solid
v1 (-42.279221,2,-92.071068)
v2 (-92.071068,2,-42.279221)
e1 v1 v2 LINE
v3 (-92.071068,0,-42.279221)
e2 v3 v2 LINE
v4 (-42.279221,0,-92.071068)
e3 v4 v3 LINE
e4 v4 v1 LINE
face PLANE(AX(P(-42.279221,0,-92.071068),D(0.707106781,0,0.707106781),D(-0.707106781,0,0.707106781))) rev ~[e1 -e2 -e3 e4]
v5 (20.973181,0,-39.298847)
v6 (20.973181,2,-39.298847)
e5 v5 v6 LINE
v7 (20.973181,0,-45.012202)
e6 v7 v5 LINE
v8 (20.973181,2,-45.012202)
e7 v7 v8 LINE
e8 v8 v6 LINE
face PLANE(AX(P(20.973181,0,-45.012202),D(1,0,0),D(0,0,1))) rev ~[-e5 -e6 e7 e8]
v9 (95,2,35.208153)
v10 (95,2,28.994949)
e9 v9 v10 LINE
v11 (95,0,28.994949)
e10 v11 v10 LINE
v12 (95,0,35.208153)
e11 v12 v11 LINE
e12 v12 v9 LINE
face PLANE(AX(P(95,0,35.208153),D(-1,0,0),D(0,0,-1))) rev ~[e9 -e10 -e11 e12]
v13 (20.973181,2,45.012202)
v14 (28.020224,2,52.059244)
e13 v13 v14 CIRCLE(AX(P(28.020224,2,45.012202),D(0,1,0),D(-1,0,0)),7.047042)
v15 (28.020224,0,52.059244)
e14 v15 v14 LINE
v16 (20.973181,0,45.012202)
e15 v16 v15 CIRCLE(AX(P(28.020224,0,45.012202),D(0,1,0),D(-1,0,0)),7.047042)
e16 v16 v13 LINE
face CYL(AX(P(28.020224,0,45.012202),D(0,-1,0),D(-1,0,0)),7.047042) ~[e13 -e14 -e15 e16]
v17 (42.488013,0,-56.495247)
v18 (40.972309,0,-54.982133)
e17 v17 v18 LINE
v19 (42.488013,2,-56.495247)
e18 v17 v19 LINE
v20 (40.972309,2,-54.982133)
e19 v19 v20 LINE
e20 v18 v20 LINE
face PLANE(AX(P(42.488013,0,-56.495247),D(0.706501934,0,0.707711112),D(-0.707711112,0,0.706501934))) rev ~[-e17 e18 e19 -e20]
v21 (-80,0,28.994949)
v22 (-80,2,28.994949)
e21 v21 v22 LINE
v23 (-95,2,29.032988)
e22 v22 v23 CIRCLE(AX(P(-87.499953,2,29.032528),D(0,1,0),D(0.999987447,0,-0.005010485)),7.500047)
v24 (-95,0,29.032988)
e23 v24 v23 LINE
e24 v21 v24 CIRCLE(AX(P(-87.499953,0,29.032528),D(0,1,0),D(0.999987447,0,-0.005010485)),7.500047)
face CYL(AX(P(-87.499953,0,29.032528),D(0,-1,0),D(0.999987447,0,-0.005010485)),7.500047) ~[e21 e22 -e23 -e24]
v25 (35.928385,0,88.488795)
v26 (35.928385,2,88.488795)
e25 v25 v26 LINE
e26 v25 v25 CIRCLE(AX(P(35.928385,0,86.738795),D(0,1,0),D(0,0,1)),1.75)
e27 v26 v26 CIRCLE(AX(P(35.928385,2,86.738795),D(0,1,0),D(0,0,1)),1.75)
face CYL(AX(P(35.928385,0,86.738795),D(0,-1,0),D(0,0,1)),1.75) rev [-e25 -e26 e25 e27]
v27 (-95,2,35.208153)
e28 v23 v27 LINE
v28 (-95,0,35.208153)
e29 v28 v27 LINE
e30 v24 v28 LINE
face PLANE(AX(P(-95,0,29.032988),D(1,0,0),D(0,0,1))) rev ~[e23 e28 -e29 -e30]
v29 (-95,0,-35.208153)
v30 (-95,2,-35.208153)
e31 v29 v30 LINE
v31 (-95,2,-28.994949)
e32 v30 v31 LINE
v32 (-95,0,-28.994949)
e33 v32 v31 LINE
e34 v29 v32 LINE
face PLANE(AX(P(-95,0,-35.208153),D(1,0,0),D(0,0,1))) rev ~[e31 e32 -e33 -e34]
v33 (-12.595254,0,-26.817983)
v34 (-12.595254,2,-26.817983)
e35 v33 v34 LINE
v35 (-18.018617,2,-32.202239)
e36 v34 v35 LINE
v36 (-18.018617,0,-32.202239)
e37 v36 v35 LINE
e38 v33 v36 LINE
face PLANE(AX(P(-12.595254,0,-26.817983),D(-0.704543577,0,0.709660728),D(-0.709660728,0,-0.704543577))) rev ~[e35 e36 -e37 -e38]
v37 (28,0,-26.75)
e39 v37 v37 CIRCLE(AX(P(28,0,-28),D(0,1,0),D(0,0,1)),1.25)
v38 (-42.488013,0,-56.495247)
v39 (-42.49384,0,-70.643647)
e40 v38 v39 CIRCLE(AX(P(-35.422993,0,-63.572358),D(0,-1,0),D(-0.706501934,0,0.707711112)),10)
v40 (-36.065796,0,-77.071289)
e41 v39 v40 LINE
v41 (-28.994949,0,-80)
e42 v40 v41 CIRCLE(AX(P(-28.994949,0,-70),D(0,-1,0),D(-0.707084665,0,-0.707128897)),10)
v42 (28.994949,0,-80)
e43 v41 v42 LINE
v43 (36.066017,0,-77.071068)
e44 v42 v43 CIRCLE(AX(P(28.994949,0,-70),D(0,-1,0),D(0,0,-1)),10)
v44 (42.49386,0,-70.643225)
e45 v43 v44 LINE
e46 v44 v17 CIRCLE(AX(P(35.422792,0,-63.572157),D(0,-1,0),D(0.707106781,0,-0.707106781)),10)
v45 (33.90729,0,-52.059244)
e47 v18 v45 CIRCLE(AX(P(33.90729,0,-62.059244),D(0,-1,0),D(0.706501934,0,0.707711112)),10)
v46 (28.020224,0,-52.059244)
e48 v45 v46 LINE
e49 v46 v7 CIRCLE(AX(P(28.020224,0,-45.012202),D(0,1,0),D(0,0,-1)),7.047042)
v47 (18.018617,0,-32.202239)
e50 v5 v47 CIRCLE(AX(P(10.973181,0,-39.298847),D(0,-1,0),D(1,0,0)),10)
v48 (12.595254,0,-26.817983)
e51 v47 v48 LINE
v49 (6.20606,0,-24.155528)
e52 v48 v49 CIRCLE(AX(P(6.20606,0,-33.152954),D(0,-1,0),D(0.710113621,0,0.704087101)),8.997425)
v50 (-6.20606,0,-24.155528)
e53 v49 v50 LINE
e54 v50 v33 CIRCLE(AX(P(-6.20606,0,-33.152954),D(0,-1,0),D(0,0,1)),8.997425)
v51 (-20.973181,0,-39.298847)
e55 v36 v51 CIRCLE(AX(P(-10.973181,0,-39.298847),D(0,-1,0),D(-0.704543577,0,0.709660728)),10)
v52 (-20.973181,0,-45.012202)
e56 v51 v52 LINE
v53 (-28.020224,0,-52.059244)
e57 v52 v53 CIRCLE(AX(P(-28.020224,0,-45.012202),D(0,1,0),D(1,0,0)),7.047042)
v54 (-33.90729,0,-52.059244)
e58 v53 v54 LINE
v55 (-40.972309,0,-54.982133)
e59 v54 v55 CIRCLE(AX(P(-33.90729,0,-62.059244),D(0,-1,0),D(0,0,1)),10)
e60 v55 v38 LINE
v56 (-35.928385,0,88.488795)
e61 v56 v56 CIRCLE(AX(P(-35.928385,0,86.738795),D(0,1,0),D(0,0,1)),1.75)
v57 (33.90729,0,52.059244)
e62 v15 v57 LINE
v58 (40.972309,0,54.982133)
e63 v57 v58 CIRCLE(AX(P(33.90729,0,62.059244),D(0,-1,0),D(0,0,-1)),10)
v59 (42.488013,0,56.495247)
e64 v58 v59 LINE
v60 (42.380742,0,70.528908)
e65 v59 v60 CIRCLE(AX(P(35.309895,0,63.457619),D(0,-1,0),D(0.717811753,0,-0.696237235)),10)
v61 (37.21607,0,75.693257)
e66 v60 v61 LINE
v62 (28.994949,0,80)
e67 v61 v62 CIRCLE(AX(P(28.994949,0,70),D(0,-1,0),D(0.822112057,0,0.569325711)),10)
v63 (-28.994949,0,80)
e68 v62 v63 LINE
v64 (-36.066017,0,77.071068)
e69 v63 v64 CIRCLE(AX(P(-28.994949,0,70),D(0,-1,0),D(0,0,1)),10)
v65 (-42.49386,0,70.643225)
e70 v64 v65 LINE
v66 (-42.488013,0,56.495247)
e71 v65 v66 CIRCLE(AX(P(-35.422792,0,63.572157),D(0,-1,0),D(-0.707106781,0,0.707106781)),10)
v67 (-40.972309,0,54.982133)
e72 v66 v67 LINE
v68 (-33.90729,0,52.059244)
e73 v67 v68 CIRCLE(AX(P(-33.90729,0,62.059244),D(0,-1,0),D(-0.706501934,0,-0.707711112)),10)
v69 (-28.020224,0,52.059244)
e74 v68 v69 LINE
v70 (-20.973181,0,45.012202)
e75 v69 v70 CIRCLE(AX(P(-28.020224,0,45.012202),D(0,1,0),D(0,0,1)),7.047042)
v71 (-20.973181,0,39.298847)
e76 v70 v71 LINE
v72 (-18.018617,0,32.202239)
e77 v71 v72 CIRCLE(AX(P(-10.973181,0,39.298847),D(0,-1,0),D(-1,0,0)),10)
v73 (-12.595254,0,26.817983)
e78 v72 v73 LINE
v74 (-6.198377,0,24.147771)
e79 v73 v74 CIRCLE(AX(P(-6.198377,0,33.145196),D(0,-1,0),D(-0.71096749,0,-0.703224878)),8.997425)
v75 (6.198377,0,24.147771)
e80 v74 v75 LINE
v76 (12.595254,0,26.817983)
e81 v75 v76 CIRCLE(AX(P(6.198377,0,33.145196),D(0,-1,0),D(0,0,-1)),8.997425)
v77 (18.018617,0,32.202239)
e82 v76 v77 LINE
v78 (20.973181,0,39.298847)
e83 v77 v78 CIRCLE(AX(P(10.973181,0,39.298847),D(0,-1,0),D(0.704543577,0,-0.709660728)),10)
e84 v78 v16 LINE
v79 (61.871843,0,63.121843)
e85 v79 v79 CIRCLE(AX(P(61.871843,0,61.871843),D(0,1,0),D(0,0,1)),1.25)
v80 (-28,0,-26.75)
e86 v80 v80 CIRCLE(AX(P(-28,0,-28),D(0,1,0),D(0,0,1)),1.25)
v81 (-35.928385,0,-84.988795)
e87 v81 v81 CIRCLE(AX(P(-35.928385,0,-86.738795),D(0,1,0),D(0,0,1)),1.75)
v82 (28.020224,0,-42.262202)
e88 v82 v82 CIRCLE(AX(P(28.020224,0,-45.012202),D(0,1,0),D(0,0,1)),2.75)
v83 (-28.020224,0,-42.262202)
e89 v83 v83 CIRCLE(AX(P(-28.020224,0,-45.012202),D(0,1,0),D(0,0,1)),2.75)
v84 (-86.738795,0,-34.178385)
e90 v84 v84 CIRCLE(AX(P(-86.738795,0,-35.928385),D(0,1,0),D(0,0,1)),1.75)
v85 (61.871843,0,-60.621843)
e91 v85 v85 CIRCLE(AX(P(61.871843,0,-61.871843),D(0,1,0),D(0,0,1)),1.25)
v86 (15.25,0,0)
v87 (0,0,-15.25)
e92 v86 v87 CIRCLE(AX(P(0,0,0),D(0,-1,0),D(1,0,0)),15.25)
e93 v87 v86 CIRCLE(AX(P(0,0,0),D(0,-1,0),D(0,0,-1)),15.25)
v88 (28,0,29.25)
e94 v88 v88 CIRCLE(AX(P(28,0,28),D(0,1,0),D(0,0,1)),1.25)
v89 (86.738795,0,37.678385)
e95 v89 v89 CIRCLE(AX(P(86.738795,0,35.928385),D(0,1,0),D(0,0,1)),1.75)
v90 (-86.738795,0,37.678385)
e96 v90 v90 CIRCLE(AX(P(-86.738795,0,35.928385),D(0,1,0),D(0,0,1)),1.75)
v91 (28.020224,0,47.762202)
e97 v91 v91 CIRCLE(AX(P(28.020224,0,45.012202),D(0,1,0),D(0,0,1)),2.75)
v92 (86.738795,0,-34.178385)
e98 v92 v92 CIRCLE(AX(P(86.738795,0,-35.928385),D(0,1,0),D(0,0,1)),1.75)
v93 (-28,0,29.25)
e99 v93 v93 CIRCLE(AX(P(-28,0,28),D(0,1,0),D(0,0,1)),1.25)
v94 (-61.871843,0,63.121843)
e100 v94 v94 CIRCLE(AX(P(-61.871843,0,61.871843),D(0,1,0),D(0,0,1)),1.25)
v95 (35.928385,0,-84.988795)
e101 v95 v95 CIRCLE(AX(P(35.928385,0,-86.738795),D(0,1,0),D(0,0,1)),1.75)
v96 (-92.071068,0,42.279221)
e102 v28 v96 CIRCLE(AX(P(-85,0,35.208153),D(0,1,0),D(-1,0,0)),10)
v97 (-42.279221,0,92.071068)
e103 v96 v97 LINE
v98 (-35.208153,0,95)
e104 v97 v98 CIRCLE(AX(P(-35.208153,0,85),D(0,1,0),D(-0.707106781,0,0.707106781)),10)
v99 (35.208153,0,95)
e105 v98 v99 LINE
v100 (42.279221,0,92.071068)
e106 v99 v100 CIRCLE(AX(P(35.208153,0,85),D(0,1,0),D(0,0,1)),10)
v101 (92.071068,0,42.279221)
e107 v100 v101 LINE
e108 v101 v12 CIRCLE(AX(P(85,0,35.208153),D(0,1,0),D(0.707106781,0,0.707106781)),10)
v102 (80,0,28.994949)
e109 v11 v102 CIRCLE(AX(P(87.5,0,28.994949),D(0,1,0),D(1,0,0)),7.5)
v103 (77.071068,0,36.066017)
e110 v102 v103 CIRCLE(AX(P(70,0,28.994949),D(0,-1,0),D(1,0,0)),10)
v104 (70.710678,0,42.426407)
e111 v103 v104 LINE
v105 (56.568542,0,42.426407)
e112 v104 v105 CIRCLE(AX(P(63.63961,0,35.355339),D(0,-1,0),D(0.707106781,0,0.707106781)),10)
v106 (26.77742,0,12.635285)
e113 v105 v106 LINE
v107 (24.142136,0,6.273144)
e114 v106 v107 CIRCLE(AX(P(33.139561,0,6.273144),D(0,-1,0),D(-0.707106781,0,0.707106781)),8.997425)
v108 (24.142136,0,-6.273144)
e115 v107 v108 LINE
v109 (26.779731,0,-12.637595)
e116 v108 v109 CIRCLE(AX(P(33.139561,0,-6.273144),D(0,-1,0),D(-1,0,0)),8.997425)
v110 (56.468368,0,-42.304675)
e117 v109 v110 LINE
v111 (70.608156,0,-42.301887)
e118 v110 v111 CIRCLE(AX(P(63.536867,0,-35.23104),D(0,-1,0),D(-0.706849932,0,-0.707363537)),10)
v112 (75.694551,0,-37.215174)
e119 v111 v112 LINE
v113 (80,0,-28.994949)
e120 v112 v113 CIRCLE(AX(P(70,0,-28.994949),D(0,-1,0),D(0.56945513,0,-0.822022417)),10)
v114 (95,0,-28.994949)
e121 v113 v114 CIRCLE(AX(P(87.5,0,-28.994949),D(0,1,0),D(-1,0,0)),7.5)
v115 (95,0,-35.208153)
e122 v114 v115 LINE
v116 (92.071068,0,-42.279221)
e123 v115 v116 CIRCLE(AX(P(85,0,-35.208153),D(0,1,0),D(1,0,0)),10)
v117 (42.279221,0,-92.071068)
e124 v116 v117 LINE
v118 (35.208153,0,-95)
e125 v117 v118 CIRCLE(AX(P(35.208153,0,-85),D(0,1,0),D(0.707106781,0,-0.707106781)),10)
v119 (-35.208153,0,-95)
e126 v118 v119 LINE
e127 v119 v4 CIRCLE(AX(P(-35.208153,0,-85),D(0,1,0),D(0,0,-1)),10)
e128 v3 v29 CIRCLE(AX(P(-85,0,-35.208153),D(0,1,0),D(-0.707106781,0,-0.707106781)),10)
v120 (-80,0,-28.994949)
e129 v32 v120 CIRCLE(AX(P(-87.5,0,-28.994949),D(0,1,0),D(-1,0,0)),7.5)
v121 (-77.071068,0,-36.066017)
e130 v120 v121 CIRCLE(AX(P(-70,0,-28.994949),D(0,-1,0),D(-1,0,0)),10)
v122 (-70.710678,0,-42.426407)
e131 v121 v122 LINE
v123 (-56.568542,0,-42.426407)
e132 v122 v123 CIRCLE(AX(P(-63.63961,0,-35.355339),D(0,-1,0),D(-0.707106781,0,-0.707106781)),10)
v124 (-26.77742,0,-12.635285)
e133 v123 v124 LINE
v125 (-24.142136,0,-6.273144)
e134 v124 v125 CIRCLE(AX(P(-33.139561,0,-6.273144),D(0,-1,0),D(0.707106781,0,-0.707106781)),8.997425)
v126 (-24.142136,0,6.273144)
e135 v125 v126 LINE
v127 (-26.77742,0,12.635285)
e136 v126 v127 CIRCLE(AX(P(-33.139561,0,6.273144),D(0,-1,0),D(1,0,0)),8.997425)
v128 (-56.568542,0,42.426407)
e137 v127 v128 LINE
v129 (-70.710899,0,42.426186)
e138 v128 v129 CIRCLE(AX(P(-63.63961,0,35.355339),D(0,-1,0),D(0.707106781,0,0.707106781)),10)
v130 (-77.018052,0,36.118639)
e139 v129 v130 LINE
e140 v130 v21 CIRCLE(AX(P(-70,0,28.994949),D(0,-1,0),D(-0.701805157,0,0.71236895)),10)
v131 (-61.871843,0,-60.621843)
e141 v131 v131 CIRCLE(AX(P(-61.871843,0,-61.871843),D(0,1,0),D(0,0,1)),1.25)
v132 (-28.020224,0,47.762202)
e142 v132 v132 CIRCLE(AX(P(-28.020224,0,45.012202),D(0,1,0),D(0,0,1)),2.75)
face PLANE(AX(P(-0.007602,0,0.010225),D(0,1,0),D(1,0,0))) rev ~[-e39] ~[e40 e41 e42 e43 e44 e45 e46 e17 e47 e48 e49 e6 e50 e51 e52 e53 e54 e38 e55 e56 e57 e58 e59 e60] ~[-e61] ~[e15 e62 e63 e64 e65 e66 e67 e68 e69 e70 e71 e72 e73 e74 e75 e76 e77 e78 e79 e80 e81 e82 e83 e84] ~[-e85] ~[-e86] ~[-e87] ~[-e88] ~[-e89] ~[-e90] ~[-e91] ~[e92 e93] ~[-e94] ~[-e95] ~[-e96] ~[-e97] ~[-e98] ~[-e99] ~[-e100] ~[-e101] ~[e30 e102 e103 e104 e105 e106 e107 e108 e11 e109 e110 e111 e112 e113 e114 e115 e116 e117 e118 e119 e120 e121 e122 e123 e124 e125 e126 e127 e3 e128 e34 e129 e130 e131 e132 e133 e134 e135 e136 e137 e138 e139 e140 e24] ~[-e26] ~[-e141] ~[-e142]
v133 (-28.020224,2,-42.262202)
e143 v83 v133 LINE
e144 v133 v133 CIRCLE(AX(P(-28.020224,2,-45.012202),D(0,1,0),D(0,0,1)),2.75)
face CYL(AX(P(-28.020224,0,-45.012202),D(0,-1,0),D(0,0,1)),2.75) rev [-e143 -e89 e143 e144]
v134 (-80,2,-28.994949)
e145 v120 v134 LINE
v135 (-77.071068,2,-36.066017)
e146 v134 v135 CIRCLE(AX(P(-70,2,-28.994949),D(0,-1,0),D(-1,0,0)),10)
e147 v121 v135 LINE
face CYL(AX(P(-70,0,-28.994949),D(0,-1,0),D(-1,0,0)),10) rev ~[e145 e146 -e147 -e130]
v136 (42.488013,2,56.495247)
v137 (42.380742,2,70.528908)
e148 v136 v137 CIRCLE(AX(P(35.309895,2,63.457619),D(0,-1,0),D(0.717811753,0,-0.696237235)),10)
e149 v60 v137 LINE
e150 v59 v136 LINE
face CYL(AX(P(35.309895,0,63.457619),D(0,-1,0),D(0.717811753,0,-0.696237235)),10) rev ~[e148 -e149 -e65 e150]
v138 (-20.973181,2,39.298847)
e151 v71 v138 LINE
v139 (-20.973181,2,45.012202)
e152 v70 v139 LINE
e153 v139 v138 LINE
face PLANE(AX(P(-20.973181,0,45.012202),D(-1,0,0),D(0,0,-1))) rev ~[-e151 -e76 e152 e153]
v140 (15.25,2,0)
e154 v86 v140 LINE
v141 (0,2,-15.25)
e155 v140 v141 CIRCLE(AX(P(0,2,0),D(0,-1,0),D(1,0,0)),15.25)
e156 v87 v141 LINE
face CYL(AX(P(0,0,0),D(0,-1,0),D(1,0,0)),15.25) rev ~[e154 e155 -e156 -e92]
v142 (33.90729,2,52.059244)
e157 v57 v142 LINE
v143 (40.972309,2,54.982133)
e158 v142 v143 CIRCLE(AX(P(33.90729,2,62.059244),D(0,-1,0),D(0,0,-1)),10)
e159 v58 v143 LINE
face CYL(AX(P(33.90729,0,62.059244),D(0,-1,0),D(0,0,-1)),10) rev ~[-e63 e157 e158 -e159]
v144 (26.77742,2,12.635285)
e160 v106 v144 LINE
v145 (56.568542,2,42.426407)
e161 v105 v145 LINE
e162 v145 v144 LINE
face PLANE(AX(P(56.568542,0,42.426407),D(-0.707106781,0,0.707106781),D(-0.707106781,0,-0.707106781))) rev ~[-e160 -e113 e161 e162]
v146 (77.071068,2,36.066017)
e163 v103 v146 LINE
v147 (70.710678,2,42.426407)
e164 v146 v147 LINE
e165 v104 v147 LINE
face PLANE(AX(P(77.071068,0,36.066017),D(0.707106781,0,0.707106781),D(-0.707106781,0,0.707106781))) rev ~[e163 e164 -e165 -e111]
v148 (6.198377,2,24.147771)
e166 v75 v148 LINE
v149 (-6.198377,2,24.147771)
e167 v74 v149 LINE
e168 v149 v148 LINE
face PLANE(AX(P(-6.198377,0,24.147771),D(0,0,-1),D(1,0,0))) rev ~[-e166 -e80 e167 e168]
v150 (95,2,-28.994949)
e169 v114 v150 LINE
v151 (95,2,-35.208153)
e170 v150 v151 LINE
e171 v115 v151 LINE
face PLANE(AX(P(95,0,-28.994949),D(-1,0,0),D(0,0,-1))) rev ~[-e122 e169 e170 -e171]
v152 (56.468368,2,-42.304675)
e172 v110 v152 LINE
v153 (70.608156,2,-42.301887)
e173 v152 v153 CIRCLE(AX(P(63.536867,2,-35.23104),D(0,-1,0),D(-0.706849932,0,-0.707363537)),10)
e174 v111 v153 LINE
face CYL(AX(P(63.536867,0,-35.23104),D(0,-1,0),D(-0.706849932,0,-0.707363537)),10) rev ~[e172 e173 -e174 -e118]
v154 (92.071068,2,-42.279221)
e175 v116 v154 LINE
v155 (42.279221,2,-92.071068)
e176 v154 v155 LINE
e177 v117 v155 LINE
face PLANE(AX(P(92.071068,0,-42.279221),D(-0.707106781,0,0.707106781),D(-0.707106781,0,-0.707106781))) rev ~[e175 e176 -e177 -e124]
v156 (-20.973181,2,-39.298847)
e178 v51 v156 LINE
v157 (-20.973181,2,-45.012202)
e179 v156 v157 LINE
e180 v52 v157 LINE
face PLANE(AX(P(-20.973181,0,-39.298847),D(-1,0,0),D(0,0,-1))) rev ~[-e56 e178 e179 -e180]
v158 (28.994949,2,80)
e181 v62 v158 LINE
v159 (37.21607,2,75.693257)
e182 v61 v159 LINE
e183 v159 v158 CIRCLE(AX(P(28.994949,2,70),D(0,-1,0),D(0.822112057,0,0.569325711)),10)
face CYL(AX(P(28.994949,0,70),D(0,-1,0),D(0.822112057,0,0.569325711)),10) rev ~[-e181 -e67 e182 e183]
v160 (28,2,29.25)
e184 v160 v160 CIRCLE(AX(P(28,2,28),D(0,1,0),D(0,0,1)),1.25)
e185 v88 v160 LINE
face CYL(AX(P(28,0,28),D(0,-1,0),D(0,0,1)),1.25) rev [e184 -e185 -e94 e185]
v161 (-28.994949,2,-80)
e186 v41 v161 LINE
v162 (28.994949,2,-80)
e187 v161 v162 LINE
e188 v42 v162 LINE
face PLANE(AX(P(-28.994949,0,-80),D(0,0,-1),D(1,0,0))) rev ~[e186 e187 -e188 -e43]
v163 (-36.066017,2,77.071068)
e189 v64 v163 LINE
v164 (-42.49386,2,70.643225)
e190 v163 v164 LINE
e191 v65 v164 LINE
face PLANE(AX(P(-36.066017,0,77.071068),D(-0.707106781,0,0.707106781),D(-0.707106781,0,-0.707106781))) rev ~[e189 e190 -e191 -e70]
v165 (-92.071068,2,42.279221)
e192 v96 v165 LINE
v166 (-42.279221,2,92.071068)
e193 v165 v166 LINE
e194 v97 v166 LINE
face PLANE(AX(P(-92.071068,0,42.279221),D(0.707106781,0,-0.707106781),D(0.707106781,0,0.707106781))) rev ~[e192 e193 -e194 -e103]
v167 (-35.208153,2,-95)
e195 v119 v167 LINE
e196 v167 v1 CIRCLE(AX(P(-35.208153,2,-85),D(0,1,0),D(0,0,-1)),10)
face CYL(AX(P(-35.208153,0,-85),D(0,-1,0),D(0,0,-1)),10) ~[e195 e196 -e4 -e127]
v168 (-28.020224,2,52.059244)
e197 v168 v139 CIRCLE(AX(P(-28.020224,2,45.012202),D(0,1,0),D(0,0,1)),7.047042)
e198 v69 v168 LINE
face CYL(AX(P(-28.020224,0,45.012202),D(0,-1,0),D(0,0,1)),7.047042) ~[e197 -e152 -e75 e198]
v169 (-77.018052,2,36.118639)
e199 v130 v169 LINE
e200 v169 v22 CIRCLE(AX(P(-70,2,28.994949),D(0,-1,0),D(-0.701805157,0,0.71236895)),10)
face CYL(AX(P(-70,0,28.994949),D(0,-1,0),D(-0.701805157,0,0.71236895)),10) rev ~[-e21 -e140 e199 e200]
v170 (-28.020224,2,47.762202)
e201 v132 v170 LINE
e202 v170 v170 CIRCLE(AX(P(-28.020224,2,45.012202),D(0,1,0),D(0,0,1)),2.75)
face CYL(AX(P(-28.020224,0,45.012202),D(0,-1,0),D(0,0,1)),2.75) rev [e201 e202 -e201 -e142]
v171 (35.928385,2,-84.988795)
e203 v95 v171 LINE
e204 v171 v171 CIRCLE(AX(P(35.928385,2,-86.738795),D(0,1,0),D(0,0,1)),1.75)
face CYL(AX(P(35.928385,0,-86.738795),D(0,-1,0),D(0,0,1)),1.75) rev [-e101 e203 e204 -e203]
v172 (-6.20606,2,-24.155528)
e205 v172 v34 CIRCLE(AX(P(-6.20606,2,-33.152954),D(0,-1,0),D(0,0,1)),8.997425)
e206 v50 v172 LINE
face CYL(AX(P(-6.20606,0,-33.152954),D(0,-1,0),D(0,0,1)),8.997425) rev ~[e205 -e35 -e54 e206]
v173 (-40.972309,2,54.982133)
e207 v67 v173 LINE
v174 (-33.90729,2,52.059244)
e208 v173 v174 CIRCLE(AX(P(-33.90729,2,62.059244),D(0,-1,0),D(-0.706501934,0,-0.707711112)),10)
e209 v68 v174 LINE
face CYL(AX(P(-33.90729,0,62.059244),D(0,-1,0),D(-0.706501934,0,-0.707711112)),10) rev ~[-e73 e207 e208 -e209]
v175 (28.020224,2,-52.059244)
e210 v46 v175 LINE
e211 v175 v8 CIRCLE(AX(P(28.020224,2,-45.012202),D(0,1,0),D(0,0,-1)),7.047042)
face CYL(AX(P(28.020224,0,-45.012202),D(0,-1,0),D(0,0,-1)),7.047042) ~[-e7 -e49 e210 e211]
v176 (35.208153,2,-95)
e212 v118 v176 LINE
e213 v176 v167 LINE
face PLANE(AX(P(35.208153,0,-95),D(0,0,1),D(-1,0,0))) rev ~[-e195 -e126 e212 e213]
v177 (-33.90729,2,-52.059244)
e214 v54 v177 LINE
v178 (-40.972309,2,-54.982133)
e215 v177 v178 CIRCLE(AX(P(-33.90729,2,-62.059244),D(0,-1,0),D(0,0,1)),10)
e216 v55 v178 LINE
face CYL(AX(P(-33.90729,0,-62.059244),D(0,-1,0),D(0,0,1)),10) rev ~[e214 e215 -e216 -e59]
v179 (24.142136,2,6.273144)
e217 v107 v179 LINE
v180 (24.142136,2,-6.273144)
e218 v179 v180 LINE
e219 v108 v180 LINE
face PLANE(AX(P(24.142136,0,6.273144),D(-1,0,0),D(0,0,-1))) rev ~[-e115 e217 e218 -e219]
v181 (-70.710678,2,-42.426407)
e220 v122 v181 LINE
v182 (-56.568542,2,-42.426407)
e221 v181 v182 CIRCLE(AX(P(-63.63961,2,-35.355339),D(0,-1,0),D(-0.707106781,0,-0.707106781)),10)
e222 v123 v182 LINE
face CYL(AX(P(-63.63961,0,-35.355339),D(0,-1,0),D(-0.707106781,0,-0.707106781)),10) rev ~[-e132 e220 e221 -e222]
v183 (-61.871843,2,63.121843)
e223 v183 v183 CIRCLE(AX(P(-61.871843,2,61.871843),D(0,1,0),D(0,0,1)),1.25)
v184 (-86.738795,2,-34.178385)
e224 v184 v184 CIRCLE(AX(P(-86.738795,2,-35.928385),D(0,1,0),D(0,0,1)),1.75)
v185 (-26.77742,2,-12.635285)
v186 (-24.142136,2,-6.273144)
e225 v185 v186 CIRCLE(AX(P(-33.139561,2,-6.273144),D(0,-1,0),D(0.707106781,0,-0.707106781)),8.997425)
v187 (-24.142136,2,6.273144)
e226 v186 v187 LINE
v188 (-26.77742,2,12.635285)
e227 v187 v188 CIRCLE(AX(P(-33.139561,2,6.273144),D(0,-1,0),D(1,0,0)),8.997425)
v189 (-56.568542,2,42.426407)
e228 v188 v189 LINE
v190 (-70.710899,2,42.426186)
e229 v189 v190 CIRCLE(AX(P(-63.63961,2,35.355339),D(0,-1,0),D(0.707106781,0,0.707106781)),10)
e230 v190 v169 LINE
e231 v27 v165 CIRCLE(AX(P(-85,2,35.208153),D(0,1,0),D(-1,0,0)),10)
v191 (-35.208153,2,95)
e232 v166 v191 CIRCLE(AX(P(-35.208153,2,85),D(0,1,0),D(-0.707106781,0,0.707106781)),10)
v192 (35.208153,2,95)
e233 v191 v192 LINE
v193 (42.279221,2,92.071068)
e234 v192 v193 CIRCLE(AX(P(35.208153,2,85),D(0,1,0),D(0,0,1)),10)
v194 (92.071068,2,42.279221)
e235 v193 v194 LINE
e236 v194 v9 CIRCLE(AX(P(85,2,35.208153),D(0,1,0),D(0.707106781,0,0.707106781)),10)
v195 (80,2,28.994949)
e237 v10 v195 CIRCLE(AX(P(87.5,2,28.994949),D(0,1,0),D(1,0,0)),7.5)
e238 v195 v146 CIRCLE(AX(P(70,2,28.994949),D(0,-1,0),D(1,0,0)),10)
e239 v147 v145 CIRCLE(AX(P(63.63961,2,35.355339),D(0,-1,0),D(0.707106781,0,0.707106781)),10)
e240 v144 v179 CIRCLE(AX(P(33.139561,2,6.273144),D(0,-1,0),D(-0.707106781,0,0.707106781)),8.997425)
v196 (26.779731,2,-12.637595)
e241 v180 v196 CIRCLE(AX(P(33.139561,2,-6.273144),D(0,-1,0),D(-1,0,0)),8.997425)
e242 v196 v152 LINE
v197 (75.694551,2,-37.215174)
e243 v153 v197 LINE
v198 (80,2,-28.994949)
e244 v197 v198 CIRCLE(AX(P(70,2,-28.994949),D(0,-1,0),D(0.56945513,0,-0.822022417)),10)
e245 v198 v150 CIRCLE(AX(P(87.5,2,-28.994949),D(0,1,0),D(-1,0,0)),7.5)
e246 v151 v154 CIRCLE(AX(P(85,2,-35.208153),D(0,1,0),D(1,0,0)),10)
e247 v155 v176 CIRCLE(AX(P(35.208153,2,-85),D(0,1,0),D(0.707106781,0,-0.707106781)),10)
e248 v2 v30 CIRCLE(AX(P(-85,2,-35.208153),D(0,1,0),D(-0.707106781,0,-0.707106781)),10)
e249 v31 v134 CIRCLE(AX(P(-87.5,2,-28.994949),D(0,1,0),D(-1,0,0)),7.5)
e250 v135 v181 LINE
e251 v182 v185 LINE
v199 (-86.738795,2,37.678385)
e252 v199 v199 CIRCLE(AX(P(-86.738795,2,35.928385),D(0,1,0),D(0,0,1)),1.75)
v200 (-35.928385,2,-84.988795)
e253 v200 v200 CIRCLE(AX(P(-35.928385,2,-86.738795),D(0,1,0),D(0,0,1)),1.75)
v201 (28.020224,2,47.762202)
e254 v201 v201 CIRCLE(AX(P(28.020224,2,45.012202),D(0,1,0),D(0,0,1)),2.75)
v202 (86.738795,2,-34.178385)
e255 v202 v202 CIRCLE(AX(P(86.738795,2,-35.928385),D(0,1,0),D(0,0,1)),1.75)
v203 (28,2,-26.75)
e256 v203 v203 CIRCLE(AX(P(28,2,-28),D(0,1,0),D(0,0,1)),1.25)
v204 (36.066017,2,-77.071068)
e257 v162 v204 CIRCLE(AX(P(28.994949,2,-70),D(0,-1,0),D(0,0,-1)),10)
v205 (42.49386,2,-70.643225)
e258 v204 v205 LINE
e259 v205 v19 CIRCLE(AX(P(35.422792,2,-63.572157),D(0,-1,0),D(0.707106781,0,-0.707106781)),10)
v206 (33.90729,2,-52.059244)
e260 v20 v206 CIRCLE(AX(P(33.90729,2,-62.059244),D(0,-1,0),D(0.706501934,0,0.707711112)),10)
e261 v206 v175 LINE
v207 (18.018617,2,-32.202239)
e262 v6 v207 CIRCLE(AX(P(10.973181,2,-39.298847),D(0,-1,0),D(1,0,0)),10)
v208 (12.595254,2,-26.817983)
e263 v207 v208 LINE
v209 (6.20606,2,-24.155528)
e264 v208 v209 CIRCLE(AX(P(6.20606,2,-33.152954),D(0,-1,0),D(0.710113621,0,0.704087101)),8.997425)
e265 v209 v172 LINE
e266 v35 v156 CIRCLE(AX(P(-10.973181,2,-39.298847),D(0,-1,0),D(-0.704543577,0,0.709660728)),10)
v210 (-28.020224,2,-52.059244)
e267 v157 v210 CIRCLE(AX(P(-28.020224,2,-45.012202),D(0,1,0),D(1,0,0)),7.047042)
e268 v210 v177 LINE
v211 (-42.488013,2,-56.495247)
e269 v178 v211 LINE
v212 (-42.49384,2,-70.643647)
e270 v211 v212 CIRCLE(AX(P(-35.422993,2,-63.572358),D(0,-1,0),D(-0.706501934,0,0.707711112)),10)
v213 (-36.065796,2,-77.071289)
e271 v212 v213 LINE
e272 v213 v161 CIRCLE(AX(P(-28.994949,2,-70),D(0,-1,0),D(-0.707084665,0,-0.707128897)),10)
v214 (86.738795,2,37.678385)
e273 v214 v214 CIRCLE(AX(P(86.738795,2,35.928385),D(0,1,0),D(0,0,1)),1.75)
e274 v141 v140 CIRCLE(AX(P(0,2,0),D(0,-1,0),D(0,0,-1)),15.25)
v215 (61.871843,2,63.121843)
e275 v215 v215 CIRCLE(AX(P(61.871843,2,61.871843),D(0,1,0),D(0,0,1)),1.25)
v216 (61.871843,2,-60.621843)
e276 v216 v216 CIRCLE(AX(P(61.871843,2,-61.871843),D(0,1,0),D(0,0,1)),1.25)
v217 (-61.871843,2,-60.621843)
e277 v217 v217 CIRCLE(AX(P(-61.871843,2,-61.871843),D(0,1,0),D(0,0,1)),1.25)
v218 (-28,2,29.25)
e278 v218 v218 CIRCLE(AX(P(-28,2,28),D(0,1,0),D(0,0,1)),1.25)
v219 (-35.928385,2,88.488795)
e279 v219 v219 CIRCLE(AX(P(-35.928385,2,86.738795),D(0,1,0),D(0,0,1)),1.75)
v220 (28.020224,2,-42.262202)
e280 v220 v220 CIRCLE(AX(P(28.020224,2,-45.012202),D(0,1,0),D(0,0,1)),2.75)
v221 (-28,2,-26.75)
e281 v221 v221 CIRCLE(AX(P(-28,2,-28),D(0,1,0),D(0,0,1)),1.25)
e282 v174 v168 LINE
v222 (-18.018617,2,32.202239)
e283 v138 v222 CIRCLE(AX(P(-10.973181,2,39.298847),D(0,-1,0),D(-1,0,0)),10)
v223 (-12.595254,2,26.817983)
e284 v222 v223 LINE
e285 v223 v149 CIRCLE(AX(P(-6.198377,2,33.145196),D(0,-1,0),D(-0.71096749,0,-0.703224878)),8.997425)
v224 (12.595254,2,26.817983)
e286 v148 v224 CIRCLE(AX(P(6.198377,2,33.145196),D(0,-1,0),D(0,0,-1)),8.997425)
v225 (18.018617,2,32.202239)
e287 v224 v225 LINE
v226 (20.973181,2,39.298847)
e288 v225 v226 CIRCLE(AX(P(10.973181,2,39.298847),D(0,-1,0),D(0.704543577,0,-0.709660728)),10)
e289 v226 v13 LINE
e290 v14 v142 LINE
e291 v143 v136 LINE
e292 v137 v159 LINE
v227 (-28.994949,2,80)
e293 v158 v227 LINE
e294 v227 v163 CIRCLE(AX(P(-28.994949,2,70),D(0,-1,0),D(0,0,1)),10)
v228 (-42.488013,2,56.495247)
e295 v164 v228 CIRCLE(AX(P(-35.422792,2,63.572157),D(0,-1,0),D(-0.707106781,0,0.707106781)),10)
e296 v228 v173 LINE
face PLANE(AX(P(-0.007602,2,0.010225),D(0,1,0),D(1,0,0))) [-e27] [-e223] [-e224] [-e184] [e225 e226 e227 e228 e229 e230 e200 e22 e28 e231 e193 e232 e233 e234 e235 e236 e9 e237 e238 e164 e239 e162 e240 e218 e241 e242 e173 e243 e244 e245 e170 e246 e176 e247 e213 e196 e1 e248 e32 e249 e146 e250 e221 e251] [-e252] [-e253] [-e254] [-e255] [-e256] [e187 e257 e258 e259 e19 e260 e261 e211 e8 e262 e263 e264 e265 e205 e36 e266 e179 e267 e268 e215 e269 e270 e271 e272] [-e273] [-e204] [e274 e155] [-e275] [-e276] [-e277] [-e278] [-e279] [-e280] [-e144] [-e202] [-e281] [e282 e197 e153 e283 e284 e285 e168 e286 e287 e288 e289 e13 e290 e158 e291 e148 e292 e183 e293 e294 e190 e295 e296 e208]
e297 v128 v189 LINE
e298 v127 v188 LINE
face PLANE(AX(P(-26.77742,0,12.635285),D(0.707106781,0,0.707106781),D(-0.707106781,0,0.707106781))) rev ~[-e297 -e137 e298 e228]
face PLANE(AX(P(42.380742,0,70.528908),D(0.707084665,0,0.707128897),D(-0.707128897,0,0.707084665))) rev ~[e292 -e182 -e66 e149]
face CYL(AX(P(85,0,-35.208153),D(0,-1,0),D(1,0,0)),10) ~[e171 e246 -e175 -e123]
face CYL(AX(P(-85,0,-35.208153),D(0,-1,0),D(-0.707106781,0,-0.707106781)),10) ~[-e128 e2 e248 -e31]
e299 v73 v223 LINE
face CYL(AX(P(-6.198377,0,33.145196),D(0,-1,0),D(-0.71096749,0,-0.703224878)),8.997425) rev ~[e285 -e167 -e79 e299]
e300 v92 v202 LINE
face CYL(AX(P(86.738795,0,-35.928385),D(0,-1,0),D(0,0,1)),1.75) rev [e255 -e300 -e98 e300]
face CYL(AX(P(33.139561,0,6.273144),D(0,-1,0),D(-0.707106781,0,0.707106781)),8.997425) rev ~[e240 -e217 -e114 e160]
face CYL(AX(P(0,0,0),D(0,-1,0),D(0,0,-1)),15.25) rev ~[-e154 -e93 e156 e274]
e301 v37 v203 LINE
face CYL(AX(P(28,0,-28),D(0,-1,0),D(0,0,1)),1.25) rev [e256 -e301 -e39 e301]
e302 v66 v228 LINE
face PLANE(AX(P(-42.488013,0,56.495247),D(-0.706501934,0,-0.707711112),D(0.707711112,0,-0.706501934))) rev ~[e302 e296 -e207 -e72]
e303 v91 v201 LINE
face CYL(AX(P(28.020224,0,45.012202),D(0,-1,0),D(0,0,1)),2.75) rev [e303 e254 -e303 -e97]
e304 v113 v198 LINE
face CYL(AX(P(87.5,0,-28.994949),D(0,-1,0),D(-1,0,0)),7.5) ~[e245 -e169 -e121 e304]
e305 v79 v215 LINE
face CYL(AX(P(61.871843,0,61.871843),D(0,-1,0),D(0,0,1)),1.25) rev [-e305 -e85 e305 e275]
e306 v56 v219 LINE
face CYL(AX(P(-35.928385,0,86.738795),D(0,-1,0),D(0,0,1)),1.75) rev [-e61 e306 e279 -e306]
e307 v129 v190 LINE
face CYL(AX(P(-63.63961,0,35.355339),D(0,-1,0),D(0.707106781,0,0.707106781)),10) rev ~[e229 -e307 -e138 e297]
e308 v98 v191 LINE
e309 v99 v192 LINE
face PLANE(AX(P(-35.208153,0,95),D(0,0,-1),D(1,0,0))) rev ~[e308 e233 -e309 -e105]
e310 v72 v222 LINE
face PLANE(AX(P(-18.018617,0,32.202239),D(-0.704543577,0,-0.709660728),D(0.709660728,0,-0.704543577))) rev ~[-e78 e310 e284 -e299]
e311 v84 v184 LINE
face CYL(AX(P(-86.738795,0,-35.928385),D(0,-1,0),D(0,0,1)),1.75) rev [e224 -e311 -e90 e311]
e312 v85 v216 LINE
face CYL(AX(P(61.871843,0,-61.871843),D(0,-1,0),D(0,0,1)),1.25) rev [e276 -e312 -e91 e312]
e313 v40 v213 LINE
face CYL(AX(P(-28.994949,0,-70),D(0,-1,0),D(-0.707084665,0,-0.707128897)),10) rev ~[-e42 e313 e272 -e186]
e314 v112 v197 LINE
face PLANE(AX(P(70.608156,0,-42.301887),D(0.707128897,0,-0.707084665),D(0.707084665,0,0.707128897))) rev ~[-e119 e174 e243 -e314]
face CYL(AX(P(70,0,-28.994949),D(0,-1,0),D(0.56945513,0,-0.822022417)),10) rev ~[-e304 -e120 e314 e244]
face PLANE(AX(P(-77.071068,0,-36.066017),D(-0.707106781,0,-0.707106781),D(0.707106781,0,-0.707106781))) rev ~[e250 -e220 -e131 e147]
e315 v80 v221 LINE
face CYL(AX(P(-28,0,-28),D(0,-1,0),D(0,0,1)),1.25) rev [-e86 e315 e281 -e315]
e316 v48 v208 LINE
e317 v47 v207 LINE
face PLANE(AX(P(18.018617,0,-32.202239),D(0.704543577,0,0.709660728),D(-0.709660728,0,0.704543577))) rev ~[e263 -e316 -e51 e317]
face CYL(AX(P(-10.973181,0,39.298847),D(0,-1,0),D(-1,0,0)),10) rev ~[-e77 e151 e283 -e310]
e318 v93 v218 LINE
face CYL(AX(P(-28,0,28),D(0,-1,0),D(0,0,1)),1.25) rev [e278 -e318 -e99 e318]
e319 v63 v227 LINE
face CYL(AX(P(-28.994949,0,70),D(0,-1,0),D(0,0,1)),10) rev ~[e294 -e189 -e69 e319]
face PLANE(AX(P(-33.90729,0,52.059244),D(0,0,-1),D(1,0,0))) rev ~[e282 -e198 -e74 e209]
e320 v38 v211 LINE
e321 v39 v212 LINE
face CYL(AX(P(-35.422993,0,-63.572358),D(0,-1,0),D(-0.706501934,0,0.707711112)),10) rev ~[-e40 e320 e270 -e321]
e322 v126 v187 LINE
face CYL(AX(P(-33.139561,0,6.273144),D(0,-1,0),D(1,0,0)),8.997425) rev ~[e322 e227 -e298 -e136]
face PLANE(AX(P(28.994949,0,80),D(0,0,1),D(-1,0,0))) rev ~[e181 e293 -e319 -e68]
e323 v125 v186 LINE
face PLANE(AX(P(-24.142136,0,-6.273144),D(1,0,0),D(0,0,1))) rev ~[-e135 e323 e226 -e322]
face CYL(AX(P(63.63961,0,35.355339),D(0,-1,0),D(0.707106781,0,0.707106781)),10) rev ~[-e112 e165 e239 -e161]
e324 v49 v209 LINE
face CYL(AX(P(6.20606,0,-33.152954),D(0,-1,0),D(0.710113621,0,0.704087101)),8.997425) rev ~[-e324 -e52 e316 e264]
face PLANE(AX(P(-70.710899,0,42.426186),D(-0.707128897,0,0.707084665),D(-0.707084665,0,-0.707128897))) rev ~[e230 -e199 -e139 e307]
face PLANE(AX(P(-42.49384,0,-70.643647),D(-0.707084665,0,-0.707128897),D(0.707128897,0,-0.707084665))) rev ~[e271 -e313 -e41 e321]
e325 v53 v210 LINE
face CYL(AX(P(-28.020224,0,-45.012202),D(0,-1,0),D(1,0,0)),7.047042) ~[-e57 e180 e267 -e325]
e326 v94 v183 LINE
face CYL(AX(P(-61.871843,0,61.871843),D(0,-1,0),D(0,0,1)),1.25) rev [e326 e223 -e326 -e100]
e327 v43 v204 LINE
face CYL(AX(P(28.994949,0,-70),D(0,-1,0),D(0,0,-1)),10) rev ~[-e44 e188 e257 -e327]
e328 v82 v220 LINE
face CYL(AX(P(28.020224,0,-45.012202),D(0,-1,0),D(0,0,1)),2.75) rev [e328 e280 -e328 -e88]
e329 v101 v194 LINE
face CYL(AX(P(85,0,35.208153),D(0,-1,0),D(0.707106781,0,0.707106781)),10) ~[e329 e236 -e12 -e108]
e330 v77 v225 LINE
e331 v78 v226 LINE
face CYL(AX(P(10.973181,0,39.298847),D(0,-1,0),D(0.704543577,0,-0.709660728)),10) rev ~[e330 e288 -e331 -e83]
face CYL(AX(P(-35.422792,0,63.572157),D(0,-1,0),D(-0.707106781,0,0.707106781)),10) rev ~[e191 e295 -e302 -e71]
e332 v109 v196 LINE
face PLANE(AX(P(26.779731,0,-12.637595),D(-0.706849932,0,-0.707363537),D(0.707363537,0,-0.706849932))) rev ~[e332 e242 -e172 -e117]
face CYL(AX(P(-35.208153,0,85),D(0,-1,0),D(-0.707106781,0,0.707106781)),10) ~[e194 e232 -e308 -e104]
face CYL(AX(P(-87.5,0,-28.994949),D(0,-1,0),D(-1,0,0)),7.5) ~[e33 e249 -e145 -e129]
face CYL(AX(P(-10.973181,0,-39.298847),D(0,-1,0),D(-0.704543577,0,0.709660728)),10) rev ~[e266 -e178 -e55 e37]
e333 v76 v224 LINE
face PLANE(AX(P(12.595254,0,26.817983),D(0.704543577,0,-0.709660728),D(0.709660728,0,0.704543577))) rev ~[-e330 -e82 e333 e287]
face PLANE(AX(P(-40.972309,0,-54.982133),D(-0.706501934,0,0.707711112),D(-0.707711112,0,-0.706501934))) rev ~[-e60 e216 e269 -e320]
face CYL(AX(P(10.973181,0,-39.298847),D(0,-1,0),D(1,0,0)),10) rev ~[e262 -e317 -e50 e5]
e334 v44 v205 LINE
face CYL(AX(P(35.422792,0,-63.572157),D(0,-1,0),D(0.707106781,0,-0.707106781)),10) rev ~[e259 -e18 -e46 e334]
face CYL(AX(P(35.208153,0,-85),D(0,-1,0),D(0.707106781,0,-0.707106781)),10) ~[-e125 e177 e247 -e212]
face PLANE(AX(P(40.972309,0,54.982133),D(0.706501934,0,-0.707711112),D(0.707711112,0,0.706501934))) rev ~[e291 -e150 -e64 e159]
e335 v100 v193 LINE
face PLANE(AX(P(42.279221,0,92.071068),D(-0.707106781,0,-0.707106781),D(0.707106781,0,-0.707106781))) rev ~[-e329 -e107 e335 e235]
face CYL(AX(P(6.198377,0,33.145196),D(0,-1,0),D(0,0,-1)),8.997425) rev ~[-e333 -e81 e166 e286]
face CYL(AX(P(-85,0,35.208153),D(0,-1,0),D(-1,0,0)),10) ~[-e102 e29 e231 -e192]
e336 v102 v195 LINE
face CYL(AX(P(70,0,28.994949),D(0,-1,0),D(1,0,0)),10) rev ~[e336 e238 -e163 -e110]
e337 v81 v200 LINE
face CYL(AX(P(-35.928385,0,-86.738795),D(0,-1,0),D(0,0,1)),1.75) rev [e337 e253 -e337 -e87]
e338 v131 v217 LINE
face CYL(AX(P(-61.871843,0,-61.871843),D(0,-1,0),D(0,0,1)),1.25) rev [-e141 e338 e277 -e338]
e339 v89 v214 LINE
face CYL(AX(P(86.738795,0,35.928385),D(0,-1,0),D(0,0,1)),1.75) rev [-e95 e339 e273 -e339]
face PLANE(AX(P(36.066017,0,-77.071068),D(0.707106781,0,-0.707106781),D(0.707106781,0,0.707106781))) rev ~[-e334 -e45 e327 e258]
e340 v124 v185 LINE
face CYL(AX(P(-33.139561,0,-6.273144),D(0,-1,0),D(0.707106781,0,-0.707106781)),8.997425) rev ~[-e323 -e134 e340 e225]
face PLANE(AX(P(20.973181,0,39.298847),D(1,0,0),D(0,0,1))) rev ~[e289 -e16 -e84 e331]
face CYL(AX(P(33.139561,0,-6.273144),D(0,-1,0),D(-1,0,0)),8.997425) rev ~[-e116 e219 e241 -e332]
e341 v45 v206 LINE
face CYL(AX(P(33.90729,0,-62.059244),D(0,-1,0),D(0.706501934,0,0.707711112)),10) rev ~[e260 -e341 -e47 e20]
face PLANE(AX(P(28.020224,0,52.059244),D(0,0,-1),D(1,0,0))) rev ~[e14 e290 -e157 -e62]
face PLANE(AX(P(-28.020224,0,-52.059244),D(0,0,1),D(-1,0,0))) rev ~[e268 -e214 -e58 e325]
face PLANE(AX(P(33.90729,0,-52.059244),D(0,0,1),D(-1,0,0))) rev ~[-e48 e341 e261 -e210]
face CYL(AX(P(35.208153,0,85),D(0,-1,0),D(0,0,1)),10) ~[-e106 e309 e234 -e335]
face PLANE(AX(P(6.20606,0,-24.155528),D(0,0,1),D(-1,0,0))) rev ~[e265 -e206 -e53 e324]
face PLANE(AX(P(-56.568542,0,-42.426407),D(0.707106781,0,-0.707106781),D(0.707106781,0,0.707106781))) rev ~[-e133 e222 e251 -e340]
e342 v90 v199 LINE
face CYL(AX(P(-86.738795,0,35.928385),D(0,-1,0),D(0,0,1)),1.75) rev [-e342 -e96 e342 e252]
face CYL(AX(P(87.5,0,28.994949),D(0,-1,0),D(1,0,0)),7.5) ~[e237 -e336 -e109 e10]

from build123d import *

# Parameters (mm, degrees)
SKETCH2_R           = 1.25
SKETCH2_R_2         = 1.75
SKETCH2_R_3         = 2.75
BOSS_EXTRUDE1_DEPTH = 2


with BuildPart() as part:
    # Sketch2 → Boss-Extrude1 (new body)
    with BuildSketch(Plane(origin=(0, 0, 0), x_dir=(1, 0, 0), z_dir=(0, 1, 0))):
        with BuildLine():
            Line((24.142135624, -6.273144482), (24.142135624, 0))
            Line((24.142135624, 0), (24.142135624, 6.273144482))
            ThreePointArc((24.142135624, 6.273144482), (24.827649201, 9.717819404), (26.779731412, 12.637594949))
            Line((26.779731412, 12.637594949), (56.468368159, 42.304675289))
            ThreePointArc((56.468368159, 42.304675289), (63.53883973, 45.231039727), (70.608156448, 42.301886572))
            Line((70.608156448, 42.301886572), (75.694551302, 37.21517354))
            ThreePointArc((75.694551302, 37.21517354), (78.858485001, 33.634695425), (80, 28.994949366))
            ThreePointArc((80, 28.994949366), (87.5, 21.494949366), (95, 28.994949366))
            Line((95, 28.994949366), (95, 35.208152802))
            ThreePointArc((95, 35.208152802), (94.238795325, 39.034987125), (92.071067812, 42.279220614))
            Line((92.071067812, 42.279220614), (42.279220614, 92.071067812))
            ThreePointArc((42.279220614, 92.071067812), (39.034987125, 94.238795325), (35.208152802, 95))
            Line((35.208152802, 95), (-35.208152802, 95))
            ThreePointArc((-35.208152802, 95), (-39.034987125, 94.238795325), (-42.279220614, 92.071067812))
            Line((-42.279220614, 92.071067812), (-92.071067812, 42.279220614))
            ThreePointArc((-92.071067812, 42.279220614), (-94.238795325, 39.034987125), (-95, 35.208152802))
            Line((-95, 35.208152802), (-95, 28.994949366))
            ThreePointArc((-95, 28.994949366), (-87.5, 21.494949366), (-80, 28.994949366))
            ThreePointArc((-80, 28.994949366), (-79.238795325, 32.82178369), (-77.071067812, 36.066017178))
            Line((-77.071067812, 36.066017178), (-70.710678119, 42.426406871))
            ThreePointArc((-70.710678119, 42.426406871), (-63.639610307, 45.355339059), (-56.568542495, 42.426406871))
            Line((-56.568542495, 42.426406871), (-26.777420433, 12.63528481))
            ThreePointArc((-26.777420433, 12.63528481), (-24.827023831, 9.716310016), (-24.142135624, 6.273144482))
            Line((-24.142135624, 6.273144482), (-24.142135624, -6.273144482))
            ThreePointArc((-24.142135624, -6.273144482), (-24.827023831, -9.716310016), (-26.777420433, -12.63528481))
            Line((-26.777420433, -12.63528481), (-56.568542495, -42.426406871))
            ThreePointArc((-56.568542495, -42.426406871), (-63.639766689, -45.355339058), (-70.710899273, -42.42618571))
            Line((-70.710899273, -42.42618571), (-77.018051571, -36.11863887))
            ThreePointArc((-77.018051571, -36.11863887), (-79.224438078, -32.856262892), (-80, -28.994949366))
            ThreePointArc((-80, -28.994949366), (-87.518972201, -21.532505276), (-95, -29.032987782))
            Line((-95, -29.032987782), (-95, -35.208152802))
            ThreePointArc((-95, -35.208152802), (-94.238795325, -39.034987125), (-92.071067812, -42.279220614))
            Line((-92.071067812, -42.279220614), (-42.279220614, -92.071067812))
            ThreePointArc((-42.279220614, -92.071067812), (-39.034987125, -94.238795325), (-35.208152802, -95))
            Line((-35.208152802, -95), (35.208152802, -95))
            ThreePointArc((35.208152802, -95), (39.034987125, -94.238795325), (42.279220614, -92.071067812))
            Line((42.279220614, -92.071067812), (92.071067812, -42.279220614))
            ThreePointArc((92.071067812, -42.279220614), (94.238795325, -39.034987125), (95, -35.208152802))
            Line((95, -35.208152802), (95, -28.994949366))
            ThreePointArc((95, -28.994949366), (87.5, -21.494949366), (80, -28.994949366))
            ThreePointArc((80, -28.994949366), (79.238795325, -32.82178369), (77.071067812, -36.066017178))
            Line((77.071067812, -36.066017178), (70.710678119, -42.426406871))
            ThreePointArc((70.710678119, -42.426406871), (63.639610307, -45.355339059), (56.568542495, -42.426406871))
            Line((56.568542495, -42.426406871), (26.777420433, -12.63528481))
            ThreePointArc((26.777420433, -12.63528481), (24.827023831, -9.716310016), (24.142135624, -6.273144482))
        make_face()
        with Locations(Location((-61.871843354, -61.871843354, 0), (0, 0, 270))):
            Circle(SKETCH2_R, mode=Mode.SUBTRACT)
        with Locations(Location((-35.928385408, -86.738795325, 0), (0, 0, 270))):
            Circle(SKETCH2_R_2, mode=Mode.SUBTRACT)
        with BuildLine():
            Line((-36.066017178, -77.071067812), (-42.49385989, -70.643225099))
            ThreePointArc((-42.49385989, -70.643225099), (-45.422791224, -63.568024355), (-42.488012626, -56.495247042))
            Line((-42.488012626, -56.495247042), (-40.972308908, -54.982133019))
            ThreePointArc((-40.972308908, -54.982133019), (-37.730173876, -52.818813648), (-33.90728957, -52.059244135))
            Line((-33.90728957, -52.059244135), (-28.020223739, -52.059244135))
            ThreePointArc((-28.020223739, -52.059244135), (-23.037212382, -49.995213249), (-20.973181496, -45.012201892))
            Line((-20.973181496, -45.012201892), (-20.973181496, -39.298846649))
            ThreePointArc((-20.973181496, -39.298846649), (-20.205038234, -35.45530386), (-18.018617262, -32.20223937))
            Line((-18.018617262, -32.20223937), (-12.595254252, -26.81798261))
            ThreePointArc((-12.595254252, -26.81798261), (-9.664285168, -24.842115466), (-6.198377489, -24.147770665))
            Line((-6.198377489, -24.147770665), (6.198377489, -24.147770665))
            ThreePointArc((6.198377489, -24.147770665), (9.664285168, -24.842115466), (12.595254252, -26.81798261))
            Line((12.595254252, -26.81798261), (18.018617262, -32.20223937))
            ThreePointArc((18.018617262, -32.20223937), (20.205038234, -35.45530386), (20.973181496, -39.298846649))
            Line((20.973181496, -39.298846649), (20.973181496, -45.012201892))
            ThreePointArc((20.973181496, -45.012201892), (23.037212382, -49.995213249), (28.020223739, -52.059244135))
            Line((28.020223739, -52.059244135), (33.90728957, -52.059244135))
            ThreePointArc((33.90728957, -52.059244135), (37.730173876, -52.818813648), (40.972308908, -54.982133019))
            Line((40.972308908, -54.982133019), (42.488012626, -56.495247042))
            ThreePointArc((42.488012626, -56.495247042), (45.309602969, -63.534055428), (42.380741747, -70.528908358))
            Line((42.380741747, -70.528908358), (37.216069936, -75.693257115))
            ThreePointArc((37.216069936, -75.693257115), (33.63539271, -78.858119754), (28.994949366, -80))
            Line((28.994949366, -80), (-28.994949366, -80))
            ThreePointArc((-28.994949366, -80), (-32.82178369, -79.238795325), (-36.066017178, -77.071067812))
        make_face(mode=Mode.SUBTRACT)
        with Locations(Location((-28.020223739, -45.012201892, 0), (0, 0, 270))):
            Circle(SKETCH2_R_3, mode=Mode.SUBTRACT)
        with Locations(Location((-86.738795325, -35.928385408, 0), (0, 0, 270))):
            Circle(SKETCH2_R_2, mode=Mode.SUBTRACT)
        with Locations(Location((-28, -28, 0), (0, 0, 270))):
            Circle(SKETCH2_R, mode=Mode.SUBTRACT)
        with BuildLine():
            ThreePointArc((0, 15.25), (10.783378413, 10.783378413), (15.25, 0))
            ThreePointArc((15.25, 0), (-10.783378413, -10.783378413), (0, 15.25))
        make_face(mode=Mode.SUBTRACT)
        with Locations(Location((35.928385408, -86.738795325, 0), (0, 0, 270))):
            Circle(SKETCH2_R_2, mode=Mode.SUBTRACT)
        with Locations(Location((28.020223739, -45.012201892, 0), (0, 0, 270))):
            Circle(SKETCH2_R_3, mode=Mode.SUBTRACT)
        with Locations(Location((61.871843354, -61.871843354, 0), (0, 0, 270))):
            Circle(SKETCH2_R, mode=Mode.SUBTRACT)
        with Locations(Location((28, -28, 0), (0, 0, 270))):
            Circle(SKETCH2_R, mode=Mode.SUBTRACT)
        with Locations(Location((86.738795325, -35.928385408, 0), (0, 0, 270))):
            Circle(SKETCH2_R_2, mode=Mode.SUBTRACT)
        with Locations(Location((-86.738795325, 35.928385408, 0), (0, 0, 270))):
            Circle(SKETCH2_R_2, mode=Mode.SUBTRACT)
        with Locations(Location((-28, 28, 0), (0, 0, 270))):
            Circle(SKETCH2_R, mode=Mode.SUBTRACT)
        with Locations(Location((-61.871843354, 61.871843354, 0), (0, 0, 270))):
            Circle(SKETCH2_R, mode=Mode.SUBTRACT)
        with Locations(Location((-28.020223739, 45.012201892, 0), (0, 0, 270))):
            Circle(SKETCH2_R_3, mode=Mode.SUBTRACT)
        with BuildLine():
            Line((6.206060109, 24.155528451), (0, 24.155528451))
            Line((0, 24.155528451), (-6.206060109, 24.155528451))
            ThreePointArc((-6.206060109, 24.155528451), (-9.666929362, 24.847771886), (-12.595254252, 26.81798261))
            Line((-12.595254252, 26.81798261), (-18.018617262, 32.20223937))
            ThreePointArc((-18.018617262, 32.20223937), (-20.205038234, 35.45530386), (-20.973181496, 39.298846649))
            Line((-20.973181496, 39.298846649), (-20.973181496, 45.012201892))
            ThreePointArc((-20.973181496, 45.012201892), (-23.037212382, 49.995213249), (-28.020223739, 52.059244135))
            Line((-28.020223739, 52.059244135), (-33.90728957, 52.059244135))
            ThreePointArc((-33.90728957, 52.059244135), (-37.730173876, 52.818813648), (-40.972308908, 54.982133019))
            Line((-40.972308908, 54.982133019), (-42.488012626, 56.495247042))
            ThreePointArc((-42.488012626, 56.495247042), (-45.422992439, 63.568239451), (-42.493839938, 70.643647124))
            Line((-42.493839938, 70.643647124), (-36.065796017, 77.071288966))
            ThreePointArc((-36.065796017, 77.071288966), (-32.821639211, 79.238855169), (-28.994949366, 80))
            Line((-28.994949366, 80), (28.994949366, 80))
            ThreePointArc((28.994949366, 80), (32.82178369, 79.238795325), (36.066017178, 77.071067812))
            Line((36.066017178, 77.071067812), (42.49385989, 70.643225099))
            ThreePointArc((42.49385989, 70.643225099), (45.422791224, 63.568024355), (42.488012626, 56.495247042))
            Line((42.488012626, 56.495247042), (40.972308908, 54.982133019))
            ThreePointArc((40.972308908, 54.982133019), (37.730173876, 52.818813648), (33.90728957, 52.059244135))
            Line((33.90728957, 52.059244135), (28.020223739, 52.059244135))
            ThreePointArc((28.020223739, 52.059244135), (23.037212382, 49.995213249), (20.973181496, 45.012201892))
            Line((20.973181496, 45.012201892), (20.973181496, 39.298846649))
            ThreePointArc((20.973181496, 39.298846649), (20.205038234, 35.45530386), (18.018617262, 32.20223937))
            Line((18.018617262, 32.20223937), (12.595254252, 26.81798261))
            ThreePointArc((12.595254252, 26.81798261), (9.666929362, 24.847771886), (6.206060109, 24.155528451))
        make_face(mode=Mode.SUBTRACT)
        with Locations(Location((-35.928385408, 86.738795325, 0), (0, 0, 270))):
            Circle(SKETCH2_R_2, mode=Mode.SUBTRACT)
        with Locations(Location((28, 28, 0), (0, 0, 270))):
            Circle(SKETCH2_R, mode=Mode.SUBTRACT)
        with Locations(Location((86.738795325, 35.928385408, 0), (0, 0, 270))):
            Circle(SKETCH2_R_2, mode=Mode.SUBTRACT)
        with Locations(Location((28.020223739, 45.012201892, 0), (0, 0, 270))):
            Circle(SKETCH2_R_3, mode=Mode.SUBTRACT)
        with Locations(Location((35.928385408, 86.738795325, 0), (0, 0, 270))):
            Circle(SKETCH2_R_2, mode=Mode.SUBTRACT)
        with Locations(Location((61.871843354, 61.871843354, 0), (0, 0, 270))):
            Circle(SKETCH2_R, mode=Mode.SUBTRACT)
    extrude(amount=BOSS_EXTRUDE1_DEPTH)


solid = part.part
